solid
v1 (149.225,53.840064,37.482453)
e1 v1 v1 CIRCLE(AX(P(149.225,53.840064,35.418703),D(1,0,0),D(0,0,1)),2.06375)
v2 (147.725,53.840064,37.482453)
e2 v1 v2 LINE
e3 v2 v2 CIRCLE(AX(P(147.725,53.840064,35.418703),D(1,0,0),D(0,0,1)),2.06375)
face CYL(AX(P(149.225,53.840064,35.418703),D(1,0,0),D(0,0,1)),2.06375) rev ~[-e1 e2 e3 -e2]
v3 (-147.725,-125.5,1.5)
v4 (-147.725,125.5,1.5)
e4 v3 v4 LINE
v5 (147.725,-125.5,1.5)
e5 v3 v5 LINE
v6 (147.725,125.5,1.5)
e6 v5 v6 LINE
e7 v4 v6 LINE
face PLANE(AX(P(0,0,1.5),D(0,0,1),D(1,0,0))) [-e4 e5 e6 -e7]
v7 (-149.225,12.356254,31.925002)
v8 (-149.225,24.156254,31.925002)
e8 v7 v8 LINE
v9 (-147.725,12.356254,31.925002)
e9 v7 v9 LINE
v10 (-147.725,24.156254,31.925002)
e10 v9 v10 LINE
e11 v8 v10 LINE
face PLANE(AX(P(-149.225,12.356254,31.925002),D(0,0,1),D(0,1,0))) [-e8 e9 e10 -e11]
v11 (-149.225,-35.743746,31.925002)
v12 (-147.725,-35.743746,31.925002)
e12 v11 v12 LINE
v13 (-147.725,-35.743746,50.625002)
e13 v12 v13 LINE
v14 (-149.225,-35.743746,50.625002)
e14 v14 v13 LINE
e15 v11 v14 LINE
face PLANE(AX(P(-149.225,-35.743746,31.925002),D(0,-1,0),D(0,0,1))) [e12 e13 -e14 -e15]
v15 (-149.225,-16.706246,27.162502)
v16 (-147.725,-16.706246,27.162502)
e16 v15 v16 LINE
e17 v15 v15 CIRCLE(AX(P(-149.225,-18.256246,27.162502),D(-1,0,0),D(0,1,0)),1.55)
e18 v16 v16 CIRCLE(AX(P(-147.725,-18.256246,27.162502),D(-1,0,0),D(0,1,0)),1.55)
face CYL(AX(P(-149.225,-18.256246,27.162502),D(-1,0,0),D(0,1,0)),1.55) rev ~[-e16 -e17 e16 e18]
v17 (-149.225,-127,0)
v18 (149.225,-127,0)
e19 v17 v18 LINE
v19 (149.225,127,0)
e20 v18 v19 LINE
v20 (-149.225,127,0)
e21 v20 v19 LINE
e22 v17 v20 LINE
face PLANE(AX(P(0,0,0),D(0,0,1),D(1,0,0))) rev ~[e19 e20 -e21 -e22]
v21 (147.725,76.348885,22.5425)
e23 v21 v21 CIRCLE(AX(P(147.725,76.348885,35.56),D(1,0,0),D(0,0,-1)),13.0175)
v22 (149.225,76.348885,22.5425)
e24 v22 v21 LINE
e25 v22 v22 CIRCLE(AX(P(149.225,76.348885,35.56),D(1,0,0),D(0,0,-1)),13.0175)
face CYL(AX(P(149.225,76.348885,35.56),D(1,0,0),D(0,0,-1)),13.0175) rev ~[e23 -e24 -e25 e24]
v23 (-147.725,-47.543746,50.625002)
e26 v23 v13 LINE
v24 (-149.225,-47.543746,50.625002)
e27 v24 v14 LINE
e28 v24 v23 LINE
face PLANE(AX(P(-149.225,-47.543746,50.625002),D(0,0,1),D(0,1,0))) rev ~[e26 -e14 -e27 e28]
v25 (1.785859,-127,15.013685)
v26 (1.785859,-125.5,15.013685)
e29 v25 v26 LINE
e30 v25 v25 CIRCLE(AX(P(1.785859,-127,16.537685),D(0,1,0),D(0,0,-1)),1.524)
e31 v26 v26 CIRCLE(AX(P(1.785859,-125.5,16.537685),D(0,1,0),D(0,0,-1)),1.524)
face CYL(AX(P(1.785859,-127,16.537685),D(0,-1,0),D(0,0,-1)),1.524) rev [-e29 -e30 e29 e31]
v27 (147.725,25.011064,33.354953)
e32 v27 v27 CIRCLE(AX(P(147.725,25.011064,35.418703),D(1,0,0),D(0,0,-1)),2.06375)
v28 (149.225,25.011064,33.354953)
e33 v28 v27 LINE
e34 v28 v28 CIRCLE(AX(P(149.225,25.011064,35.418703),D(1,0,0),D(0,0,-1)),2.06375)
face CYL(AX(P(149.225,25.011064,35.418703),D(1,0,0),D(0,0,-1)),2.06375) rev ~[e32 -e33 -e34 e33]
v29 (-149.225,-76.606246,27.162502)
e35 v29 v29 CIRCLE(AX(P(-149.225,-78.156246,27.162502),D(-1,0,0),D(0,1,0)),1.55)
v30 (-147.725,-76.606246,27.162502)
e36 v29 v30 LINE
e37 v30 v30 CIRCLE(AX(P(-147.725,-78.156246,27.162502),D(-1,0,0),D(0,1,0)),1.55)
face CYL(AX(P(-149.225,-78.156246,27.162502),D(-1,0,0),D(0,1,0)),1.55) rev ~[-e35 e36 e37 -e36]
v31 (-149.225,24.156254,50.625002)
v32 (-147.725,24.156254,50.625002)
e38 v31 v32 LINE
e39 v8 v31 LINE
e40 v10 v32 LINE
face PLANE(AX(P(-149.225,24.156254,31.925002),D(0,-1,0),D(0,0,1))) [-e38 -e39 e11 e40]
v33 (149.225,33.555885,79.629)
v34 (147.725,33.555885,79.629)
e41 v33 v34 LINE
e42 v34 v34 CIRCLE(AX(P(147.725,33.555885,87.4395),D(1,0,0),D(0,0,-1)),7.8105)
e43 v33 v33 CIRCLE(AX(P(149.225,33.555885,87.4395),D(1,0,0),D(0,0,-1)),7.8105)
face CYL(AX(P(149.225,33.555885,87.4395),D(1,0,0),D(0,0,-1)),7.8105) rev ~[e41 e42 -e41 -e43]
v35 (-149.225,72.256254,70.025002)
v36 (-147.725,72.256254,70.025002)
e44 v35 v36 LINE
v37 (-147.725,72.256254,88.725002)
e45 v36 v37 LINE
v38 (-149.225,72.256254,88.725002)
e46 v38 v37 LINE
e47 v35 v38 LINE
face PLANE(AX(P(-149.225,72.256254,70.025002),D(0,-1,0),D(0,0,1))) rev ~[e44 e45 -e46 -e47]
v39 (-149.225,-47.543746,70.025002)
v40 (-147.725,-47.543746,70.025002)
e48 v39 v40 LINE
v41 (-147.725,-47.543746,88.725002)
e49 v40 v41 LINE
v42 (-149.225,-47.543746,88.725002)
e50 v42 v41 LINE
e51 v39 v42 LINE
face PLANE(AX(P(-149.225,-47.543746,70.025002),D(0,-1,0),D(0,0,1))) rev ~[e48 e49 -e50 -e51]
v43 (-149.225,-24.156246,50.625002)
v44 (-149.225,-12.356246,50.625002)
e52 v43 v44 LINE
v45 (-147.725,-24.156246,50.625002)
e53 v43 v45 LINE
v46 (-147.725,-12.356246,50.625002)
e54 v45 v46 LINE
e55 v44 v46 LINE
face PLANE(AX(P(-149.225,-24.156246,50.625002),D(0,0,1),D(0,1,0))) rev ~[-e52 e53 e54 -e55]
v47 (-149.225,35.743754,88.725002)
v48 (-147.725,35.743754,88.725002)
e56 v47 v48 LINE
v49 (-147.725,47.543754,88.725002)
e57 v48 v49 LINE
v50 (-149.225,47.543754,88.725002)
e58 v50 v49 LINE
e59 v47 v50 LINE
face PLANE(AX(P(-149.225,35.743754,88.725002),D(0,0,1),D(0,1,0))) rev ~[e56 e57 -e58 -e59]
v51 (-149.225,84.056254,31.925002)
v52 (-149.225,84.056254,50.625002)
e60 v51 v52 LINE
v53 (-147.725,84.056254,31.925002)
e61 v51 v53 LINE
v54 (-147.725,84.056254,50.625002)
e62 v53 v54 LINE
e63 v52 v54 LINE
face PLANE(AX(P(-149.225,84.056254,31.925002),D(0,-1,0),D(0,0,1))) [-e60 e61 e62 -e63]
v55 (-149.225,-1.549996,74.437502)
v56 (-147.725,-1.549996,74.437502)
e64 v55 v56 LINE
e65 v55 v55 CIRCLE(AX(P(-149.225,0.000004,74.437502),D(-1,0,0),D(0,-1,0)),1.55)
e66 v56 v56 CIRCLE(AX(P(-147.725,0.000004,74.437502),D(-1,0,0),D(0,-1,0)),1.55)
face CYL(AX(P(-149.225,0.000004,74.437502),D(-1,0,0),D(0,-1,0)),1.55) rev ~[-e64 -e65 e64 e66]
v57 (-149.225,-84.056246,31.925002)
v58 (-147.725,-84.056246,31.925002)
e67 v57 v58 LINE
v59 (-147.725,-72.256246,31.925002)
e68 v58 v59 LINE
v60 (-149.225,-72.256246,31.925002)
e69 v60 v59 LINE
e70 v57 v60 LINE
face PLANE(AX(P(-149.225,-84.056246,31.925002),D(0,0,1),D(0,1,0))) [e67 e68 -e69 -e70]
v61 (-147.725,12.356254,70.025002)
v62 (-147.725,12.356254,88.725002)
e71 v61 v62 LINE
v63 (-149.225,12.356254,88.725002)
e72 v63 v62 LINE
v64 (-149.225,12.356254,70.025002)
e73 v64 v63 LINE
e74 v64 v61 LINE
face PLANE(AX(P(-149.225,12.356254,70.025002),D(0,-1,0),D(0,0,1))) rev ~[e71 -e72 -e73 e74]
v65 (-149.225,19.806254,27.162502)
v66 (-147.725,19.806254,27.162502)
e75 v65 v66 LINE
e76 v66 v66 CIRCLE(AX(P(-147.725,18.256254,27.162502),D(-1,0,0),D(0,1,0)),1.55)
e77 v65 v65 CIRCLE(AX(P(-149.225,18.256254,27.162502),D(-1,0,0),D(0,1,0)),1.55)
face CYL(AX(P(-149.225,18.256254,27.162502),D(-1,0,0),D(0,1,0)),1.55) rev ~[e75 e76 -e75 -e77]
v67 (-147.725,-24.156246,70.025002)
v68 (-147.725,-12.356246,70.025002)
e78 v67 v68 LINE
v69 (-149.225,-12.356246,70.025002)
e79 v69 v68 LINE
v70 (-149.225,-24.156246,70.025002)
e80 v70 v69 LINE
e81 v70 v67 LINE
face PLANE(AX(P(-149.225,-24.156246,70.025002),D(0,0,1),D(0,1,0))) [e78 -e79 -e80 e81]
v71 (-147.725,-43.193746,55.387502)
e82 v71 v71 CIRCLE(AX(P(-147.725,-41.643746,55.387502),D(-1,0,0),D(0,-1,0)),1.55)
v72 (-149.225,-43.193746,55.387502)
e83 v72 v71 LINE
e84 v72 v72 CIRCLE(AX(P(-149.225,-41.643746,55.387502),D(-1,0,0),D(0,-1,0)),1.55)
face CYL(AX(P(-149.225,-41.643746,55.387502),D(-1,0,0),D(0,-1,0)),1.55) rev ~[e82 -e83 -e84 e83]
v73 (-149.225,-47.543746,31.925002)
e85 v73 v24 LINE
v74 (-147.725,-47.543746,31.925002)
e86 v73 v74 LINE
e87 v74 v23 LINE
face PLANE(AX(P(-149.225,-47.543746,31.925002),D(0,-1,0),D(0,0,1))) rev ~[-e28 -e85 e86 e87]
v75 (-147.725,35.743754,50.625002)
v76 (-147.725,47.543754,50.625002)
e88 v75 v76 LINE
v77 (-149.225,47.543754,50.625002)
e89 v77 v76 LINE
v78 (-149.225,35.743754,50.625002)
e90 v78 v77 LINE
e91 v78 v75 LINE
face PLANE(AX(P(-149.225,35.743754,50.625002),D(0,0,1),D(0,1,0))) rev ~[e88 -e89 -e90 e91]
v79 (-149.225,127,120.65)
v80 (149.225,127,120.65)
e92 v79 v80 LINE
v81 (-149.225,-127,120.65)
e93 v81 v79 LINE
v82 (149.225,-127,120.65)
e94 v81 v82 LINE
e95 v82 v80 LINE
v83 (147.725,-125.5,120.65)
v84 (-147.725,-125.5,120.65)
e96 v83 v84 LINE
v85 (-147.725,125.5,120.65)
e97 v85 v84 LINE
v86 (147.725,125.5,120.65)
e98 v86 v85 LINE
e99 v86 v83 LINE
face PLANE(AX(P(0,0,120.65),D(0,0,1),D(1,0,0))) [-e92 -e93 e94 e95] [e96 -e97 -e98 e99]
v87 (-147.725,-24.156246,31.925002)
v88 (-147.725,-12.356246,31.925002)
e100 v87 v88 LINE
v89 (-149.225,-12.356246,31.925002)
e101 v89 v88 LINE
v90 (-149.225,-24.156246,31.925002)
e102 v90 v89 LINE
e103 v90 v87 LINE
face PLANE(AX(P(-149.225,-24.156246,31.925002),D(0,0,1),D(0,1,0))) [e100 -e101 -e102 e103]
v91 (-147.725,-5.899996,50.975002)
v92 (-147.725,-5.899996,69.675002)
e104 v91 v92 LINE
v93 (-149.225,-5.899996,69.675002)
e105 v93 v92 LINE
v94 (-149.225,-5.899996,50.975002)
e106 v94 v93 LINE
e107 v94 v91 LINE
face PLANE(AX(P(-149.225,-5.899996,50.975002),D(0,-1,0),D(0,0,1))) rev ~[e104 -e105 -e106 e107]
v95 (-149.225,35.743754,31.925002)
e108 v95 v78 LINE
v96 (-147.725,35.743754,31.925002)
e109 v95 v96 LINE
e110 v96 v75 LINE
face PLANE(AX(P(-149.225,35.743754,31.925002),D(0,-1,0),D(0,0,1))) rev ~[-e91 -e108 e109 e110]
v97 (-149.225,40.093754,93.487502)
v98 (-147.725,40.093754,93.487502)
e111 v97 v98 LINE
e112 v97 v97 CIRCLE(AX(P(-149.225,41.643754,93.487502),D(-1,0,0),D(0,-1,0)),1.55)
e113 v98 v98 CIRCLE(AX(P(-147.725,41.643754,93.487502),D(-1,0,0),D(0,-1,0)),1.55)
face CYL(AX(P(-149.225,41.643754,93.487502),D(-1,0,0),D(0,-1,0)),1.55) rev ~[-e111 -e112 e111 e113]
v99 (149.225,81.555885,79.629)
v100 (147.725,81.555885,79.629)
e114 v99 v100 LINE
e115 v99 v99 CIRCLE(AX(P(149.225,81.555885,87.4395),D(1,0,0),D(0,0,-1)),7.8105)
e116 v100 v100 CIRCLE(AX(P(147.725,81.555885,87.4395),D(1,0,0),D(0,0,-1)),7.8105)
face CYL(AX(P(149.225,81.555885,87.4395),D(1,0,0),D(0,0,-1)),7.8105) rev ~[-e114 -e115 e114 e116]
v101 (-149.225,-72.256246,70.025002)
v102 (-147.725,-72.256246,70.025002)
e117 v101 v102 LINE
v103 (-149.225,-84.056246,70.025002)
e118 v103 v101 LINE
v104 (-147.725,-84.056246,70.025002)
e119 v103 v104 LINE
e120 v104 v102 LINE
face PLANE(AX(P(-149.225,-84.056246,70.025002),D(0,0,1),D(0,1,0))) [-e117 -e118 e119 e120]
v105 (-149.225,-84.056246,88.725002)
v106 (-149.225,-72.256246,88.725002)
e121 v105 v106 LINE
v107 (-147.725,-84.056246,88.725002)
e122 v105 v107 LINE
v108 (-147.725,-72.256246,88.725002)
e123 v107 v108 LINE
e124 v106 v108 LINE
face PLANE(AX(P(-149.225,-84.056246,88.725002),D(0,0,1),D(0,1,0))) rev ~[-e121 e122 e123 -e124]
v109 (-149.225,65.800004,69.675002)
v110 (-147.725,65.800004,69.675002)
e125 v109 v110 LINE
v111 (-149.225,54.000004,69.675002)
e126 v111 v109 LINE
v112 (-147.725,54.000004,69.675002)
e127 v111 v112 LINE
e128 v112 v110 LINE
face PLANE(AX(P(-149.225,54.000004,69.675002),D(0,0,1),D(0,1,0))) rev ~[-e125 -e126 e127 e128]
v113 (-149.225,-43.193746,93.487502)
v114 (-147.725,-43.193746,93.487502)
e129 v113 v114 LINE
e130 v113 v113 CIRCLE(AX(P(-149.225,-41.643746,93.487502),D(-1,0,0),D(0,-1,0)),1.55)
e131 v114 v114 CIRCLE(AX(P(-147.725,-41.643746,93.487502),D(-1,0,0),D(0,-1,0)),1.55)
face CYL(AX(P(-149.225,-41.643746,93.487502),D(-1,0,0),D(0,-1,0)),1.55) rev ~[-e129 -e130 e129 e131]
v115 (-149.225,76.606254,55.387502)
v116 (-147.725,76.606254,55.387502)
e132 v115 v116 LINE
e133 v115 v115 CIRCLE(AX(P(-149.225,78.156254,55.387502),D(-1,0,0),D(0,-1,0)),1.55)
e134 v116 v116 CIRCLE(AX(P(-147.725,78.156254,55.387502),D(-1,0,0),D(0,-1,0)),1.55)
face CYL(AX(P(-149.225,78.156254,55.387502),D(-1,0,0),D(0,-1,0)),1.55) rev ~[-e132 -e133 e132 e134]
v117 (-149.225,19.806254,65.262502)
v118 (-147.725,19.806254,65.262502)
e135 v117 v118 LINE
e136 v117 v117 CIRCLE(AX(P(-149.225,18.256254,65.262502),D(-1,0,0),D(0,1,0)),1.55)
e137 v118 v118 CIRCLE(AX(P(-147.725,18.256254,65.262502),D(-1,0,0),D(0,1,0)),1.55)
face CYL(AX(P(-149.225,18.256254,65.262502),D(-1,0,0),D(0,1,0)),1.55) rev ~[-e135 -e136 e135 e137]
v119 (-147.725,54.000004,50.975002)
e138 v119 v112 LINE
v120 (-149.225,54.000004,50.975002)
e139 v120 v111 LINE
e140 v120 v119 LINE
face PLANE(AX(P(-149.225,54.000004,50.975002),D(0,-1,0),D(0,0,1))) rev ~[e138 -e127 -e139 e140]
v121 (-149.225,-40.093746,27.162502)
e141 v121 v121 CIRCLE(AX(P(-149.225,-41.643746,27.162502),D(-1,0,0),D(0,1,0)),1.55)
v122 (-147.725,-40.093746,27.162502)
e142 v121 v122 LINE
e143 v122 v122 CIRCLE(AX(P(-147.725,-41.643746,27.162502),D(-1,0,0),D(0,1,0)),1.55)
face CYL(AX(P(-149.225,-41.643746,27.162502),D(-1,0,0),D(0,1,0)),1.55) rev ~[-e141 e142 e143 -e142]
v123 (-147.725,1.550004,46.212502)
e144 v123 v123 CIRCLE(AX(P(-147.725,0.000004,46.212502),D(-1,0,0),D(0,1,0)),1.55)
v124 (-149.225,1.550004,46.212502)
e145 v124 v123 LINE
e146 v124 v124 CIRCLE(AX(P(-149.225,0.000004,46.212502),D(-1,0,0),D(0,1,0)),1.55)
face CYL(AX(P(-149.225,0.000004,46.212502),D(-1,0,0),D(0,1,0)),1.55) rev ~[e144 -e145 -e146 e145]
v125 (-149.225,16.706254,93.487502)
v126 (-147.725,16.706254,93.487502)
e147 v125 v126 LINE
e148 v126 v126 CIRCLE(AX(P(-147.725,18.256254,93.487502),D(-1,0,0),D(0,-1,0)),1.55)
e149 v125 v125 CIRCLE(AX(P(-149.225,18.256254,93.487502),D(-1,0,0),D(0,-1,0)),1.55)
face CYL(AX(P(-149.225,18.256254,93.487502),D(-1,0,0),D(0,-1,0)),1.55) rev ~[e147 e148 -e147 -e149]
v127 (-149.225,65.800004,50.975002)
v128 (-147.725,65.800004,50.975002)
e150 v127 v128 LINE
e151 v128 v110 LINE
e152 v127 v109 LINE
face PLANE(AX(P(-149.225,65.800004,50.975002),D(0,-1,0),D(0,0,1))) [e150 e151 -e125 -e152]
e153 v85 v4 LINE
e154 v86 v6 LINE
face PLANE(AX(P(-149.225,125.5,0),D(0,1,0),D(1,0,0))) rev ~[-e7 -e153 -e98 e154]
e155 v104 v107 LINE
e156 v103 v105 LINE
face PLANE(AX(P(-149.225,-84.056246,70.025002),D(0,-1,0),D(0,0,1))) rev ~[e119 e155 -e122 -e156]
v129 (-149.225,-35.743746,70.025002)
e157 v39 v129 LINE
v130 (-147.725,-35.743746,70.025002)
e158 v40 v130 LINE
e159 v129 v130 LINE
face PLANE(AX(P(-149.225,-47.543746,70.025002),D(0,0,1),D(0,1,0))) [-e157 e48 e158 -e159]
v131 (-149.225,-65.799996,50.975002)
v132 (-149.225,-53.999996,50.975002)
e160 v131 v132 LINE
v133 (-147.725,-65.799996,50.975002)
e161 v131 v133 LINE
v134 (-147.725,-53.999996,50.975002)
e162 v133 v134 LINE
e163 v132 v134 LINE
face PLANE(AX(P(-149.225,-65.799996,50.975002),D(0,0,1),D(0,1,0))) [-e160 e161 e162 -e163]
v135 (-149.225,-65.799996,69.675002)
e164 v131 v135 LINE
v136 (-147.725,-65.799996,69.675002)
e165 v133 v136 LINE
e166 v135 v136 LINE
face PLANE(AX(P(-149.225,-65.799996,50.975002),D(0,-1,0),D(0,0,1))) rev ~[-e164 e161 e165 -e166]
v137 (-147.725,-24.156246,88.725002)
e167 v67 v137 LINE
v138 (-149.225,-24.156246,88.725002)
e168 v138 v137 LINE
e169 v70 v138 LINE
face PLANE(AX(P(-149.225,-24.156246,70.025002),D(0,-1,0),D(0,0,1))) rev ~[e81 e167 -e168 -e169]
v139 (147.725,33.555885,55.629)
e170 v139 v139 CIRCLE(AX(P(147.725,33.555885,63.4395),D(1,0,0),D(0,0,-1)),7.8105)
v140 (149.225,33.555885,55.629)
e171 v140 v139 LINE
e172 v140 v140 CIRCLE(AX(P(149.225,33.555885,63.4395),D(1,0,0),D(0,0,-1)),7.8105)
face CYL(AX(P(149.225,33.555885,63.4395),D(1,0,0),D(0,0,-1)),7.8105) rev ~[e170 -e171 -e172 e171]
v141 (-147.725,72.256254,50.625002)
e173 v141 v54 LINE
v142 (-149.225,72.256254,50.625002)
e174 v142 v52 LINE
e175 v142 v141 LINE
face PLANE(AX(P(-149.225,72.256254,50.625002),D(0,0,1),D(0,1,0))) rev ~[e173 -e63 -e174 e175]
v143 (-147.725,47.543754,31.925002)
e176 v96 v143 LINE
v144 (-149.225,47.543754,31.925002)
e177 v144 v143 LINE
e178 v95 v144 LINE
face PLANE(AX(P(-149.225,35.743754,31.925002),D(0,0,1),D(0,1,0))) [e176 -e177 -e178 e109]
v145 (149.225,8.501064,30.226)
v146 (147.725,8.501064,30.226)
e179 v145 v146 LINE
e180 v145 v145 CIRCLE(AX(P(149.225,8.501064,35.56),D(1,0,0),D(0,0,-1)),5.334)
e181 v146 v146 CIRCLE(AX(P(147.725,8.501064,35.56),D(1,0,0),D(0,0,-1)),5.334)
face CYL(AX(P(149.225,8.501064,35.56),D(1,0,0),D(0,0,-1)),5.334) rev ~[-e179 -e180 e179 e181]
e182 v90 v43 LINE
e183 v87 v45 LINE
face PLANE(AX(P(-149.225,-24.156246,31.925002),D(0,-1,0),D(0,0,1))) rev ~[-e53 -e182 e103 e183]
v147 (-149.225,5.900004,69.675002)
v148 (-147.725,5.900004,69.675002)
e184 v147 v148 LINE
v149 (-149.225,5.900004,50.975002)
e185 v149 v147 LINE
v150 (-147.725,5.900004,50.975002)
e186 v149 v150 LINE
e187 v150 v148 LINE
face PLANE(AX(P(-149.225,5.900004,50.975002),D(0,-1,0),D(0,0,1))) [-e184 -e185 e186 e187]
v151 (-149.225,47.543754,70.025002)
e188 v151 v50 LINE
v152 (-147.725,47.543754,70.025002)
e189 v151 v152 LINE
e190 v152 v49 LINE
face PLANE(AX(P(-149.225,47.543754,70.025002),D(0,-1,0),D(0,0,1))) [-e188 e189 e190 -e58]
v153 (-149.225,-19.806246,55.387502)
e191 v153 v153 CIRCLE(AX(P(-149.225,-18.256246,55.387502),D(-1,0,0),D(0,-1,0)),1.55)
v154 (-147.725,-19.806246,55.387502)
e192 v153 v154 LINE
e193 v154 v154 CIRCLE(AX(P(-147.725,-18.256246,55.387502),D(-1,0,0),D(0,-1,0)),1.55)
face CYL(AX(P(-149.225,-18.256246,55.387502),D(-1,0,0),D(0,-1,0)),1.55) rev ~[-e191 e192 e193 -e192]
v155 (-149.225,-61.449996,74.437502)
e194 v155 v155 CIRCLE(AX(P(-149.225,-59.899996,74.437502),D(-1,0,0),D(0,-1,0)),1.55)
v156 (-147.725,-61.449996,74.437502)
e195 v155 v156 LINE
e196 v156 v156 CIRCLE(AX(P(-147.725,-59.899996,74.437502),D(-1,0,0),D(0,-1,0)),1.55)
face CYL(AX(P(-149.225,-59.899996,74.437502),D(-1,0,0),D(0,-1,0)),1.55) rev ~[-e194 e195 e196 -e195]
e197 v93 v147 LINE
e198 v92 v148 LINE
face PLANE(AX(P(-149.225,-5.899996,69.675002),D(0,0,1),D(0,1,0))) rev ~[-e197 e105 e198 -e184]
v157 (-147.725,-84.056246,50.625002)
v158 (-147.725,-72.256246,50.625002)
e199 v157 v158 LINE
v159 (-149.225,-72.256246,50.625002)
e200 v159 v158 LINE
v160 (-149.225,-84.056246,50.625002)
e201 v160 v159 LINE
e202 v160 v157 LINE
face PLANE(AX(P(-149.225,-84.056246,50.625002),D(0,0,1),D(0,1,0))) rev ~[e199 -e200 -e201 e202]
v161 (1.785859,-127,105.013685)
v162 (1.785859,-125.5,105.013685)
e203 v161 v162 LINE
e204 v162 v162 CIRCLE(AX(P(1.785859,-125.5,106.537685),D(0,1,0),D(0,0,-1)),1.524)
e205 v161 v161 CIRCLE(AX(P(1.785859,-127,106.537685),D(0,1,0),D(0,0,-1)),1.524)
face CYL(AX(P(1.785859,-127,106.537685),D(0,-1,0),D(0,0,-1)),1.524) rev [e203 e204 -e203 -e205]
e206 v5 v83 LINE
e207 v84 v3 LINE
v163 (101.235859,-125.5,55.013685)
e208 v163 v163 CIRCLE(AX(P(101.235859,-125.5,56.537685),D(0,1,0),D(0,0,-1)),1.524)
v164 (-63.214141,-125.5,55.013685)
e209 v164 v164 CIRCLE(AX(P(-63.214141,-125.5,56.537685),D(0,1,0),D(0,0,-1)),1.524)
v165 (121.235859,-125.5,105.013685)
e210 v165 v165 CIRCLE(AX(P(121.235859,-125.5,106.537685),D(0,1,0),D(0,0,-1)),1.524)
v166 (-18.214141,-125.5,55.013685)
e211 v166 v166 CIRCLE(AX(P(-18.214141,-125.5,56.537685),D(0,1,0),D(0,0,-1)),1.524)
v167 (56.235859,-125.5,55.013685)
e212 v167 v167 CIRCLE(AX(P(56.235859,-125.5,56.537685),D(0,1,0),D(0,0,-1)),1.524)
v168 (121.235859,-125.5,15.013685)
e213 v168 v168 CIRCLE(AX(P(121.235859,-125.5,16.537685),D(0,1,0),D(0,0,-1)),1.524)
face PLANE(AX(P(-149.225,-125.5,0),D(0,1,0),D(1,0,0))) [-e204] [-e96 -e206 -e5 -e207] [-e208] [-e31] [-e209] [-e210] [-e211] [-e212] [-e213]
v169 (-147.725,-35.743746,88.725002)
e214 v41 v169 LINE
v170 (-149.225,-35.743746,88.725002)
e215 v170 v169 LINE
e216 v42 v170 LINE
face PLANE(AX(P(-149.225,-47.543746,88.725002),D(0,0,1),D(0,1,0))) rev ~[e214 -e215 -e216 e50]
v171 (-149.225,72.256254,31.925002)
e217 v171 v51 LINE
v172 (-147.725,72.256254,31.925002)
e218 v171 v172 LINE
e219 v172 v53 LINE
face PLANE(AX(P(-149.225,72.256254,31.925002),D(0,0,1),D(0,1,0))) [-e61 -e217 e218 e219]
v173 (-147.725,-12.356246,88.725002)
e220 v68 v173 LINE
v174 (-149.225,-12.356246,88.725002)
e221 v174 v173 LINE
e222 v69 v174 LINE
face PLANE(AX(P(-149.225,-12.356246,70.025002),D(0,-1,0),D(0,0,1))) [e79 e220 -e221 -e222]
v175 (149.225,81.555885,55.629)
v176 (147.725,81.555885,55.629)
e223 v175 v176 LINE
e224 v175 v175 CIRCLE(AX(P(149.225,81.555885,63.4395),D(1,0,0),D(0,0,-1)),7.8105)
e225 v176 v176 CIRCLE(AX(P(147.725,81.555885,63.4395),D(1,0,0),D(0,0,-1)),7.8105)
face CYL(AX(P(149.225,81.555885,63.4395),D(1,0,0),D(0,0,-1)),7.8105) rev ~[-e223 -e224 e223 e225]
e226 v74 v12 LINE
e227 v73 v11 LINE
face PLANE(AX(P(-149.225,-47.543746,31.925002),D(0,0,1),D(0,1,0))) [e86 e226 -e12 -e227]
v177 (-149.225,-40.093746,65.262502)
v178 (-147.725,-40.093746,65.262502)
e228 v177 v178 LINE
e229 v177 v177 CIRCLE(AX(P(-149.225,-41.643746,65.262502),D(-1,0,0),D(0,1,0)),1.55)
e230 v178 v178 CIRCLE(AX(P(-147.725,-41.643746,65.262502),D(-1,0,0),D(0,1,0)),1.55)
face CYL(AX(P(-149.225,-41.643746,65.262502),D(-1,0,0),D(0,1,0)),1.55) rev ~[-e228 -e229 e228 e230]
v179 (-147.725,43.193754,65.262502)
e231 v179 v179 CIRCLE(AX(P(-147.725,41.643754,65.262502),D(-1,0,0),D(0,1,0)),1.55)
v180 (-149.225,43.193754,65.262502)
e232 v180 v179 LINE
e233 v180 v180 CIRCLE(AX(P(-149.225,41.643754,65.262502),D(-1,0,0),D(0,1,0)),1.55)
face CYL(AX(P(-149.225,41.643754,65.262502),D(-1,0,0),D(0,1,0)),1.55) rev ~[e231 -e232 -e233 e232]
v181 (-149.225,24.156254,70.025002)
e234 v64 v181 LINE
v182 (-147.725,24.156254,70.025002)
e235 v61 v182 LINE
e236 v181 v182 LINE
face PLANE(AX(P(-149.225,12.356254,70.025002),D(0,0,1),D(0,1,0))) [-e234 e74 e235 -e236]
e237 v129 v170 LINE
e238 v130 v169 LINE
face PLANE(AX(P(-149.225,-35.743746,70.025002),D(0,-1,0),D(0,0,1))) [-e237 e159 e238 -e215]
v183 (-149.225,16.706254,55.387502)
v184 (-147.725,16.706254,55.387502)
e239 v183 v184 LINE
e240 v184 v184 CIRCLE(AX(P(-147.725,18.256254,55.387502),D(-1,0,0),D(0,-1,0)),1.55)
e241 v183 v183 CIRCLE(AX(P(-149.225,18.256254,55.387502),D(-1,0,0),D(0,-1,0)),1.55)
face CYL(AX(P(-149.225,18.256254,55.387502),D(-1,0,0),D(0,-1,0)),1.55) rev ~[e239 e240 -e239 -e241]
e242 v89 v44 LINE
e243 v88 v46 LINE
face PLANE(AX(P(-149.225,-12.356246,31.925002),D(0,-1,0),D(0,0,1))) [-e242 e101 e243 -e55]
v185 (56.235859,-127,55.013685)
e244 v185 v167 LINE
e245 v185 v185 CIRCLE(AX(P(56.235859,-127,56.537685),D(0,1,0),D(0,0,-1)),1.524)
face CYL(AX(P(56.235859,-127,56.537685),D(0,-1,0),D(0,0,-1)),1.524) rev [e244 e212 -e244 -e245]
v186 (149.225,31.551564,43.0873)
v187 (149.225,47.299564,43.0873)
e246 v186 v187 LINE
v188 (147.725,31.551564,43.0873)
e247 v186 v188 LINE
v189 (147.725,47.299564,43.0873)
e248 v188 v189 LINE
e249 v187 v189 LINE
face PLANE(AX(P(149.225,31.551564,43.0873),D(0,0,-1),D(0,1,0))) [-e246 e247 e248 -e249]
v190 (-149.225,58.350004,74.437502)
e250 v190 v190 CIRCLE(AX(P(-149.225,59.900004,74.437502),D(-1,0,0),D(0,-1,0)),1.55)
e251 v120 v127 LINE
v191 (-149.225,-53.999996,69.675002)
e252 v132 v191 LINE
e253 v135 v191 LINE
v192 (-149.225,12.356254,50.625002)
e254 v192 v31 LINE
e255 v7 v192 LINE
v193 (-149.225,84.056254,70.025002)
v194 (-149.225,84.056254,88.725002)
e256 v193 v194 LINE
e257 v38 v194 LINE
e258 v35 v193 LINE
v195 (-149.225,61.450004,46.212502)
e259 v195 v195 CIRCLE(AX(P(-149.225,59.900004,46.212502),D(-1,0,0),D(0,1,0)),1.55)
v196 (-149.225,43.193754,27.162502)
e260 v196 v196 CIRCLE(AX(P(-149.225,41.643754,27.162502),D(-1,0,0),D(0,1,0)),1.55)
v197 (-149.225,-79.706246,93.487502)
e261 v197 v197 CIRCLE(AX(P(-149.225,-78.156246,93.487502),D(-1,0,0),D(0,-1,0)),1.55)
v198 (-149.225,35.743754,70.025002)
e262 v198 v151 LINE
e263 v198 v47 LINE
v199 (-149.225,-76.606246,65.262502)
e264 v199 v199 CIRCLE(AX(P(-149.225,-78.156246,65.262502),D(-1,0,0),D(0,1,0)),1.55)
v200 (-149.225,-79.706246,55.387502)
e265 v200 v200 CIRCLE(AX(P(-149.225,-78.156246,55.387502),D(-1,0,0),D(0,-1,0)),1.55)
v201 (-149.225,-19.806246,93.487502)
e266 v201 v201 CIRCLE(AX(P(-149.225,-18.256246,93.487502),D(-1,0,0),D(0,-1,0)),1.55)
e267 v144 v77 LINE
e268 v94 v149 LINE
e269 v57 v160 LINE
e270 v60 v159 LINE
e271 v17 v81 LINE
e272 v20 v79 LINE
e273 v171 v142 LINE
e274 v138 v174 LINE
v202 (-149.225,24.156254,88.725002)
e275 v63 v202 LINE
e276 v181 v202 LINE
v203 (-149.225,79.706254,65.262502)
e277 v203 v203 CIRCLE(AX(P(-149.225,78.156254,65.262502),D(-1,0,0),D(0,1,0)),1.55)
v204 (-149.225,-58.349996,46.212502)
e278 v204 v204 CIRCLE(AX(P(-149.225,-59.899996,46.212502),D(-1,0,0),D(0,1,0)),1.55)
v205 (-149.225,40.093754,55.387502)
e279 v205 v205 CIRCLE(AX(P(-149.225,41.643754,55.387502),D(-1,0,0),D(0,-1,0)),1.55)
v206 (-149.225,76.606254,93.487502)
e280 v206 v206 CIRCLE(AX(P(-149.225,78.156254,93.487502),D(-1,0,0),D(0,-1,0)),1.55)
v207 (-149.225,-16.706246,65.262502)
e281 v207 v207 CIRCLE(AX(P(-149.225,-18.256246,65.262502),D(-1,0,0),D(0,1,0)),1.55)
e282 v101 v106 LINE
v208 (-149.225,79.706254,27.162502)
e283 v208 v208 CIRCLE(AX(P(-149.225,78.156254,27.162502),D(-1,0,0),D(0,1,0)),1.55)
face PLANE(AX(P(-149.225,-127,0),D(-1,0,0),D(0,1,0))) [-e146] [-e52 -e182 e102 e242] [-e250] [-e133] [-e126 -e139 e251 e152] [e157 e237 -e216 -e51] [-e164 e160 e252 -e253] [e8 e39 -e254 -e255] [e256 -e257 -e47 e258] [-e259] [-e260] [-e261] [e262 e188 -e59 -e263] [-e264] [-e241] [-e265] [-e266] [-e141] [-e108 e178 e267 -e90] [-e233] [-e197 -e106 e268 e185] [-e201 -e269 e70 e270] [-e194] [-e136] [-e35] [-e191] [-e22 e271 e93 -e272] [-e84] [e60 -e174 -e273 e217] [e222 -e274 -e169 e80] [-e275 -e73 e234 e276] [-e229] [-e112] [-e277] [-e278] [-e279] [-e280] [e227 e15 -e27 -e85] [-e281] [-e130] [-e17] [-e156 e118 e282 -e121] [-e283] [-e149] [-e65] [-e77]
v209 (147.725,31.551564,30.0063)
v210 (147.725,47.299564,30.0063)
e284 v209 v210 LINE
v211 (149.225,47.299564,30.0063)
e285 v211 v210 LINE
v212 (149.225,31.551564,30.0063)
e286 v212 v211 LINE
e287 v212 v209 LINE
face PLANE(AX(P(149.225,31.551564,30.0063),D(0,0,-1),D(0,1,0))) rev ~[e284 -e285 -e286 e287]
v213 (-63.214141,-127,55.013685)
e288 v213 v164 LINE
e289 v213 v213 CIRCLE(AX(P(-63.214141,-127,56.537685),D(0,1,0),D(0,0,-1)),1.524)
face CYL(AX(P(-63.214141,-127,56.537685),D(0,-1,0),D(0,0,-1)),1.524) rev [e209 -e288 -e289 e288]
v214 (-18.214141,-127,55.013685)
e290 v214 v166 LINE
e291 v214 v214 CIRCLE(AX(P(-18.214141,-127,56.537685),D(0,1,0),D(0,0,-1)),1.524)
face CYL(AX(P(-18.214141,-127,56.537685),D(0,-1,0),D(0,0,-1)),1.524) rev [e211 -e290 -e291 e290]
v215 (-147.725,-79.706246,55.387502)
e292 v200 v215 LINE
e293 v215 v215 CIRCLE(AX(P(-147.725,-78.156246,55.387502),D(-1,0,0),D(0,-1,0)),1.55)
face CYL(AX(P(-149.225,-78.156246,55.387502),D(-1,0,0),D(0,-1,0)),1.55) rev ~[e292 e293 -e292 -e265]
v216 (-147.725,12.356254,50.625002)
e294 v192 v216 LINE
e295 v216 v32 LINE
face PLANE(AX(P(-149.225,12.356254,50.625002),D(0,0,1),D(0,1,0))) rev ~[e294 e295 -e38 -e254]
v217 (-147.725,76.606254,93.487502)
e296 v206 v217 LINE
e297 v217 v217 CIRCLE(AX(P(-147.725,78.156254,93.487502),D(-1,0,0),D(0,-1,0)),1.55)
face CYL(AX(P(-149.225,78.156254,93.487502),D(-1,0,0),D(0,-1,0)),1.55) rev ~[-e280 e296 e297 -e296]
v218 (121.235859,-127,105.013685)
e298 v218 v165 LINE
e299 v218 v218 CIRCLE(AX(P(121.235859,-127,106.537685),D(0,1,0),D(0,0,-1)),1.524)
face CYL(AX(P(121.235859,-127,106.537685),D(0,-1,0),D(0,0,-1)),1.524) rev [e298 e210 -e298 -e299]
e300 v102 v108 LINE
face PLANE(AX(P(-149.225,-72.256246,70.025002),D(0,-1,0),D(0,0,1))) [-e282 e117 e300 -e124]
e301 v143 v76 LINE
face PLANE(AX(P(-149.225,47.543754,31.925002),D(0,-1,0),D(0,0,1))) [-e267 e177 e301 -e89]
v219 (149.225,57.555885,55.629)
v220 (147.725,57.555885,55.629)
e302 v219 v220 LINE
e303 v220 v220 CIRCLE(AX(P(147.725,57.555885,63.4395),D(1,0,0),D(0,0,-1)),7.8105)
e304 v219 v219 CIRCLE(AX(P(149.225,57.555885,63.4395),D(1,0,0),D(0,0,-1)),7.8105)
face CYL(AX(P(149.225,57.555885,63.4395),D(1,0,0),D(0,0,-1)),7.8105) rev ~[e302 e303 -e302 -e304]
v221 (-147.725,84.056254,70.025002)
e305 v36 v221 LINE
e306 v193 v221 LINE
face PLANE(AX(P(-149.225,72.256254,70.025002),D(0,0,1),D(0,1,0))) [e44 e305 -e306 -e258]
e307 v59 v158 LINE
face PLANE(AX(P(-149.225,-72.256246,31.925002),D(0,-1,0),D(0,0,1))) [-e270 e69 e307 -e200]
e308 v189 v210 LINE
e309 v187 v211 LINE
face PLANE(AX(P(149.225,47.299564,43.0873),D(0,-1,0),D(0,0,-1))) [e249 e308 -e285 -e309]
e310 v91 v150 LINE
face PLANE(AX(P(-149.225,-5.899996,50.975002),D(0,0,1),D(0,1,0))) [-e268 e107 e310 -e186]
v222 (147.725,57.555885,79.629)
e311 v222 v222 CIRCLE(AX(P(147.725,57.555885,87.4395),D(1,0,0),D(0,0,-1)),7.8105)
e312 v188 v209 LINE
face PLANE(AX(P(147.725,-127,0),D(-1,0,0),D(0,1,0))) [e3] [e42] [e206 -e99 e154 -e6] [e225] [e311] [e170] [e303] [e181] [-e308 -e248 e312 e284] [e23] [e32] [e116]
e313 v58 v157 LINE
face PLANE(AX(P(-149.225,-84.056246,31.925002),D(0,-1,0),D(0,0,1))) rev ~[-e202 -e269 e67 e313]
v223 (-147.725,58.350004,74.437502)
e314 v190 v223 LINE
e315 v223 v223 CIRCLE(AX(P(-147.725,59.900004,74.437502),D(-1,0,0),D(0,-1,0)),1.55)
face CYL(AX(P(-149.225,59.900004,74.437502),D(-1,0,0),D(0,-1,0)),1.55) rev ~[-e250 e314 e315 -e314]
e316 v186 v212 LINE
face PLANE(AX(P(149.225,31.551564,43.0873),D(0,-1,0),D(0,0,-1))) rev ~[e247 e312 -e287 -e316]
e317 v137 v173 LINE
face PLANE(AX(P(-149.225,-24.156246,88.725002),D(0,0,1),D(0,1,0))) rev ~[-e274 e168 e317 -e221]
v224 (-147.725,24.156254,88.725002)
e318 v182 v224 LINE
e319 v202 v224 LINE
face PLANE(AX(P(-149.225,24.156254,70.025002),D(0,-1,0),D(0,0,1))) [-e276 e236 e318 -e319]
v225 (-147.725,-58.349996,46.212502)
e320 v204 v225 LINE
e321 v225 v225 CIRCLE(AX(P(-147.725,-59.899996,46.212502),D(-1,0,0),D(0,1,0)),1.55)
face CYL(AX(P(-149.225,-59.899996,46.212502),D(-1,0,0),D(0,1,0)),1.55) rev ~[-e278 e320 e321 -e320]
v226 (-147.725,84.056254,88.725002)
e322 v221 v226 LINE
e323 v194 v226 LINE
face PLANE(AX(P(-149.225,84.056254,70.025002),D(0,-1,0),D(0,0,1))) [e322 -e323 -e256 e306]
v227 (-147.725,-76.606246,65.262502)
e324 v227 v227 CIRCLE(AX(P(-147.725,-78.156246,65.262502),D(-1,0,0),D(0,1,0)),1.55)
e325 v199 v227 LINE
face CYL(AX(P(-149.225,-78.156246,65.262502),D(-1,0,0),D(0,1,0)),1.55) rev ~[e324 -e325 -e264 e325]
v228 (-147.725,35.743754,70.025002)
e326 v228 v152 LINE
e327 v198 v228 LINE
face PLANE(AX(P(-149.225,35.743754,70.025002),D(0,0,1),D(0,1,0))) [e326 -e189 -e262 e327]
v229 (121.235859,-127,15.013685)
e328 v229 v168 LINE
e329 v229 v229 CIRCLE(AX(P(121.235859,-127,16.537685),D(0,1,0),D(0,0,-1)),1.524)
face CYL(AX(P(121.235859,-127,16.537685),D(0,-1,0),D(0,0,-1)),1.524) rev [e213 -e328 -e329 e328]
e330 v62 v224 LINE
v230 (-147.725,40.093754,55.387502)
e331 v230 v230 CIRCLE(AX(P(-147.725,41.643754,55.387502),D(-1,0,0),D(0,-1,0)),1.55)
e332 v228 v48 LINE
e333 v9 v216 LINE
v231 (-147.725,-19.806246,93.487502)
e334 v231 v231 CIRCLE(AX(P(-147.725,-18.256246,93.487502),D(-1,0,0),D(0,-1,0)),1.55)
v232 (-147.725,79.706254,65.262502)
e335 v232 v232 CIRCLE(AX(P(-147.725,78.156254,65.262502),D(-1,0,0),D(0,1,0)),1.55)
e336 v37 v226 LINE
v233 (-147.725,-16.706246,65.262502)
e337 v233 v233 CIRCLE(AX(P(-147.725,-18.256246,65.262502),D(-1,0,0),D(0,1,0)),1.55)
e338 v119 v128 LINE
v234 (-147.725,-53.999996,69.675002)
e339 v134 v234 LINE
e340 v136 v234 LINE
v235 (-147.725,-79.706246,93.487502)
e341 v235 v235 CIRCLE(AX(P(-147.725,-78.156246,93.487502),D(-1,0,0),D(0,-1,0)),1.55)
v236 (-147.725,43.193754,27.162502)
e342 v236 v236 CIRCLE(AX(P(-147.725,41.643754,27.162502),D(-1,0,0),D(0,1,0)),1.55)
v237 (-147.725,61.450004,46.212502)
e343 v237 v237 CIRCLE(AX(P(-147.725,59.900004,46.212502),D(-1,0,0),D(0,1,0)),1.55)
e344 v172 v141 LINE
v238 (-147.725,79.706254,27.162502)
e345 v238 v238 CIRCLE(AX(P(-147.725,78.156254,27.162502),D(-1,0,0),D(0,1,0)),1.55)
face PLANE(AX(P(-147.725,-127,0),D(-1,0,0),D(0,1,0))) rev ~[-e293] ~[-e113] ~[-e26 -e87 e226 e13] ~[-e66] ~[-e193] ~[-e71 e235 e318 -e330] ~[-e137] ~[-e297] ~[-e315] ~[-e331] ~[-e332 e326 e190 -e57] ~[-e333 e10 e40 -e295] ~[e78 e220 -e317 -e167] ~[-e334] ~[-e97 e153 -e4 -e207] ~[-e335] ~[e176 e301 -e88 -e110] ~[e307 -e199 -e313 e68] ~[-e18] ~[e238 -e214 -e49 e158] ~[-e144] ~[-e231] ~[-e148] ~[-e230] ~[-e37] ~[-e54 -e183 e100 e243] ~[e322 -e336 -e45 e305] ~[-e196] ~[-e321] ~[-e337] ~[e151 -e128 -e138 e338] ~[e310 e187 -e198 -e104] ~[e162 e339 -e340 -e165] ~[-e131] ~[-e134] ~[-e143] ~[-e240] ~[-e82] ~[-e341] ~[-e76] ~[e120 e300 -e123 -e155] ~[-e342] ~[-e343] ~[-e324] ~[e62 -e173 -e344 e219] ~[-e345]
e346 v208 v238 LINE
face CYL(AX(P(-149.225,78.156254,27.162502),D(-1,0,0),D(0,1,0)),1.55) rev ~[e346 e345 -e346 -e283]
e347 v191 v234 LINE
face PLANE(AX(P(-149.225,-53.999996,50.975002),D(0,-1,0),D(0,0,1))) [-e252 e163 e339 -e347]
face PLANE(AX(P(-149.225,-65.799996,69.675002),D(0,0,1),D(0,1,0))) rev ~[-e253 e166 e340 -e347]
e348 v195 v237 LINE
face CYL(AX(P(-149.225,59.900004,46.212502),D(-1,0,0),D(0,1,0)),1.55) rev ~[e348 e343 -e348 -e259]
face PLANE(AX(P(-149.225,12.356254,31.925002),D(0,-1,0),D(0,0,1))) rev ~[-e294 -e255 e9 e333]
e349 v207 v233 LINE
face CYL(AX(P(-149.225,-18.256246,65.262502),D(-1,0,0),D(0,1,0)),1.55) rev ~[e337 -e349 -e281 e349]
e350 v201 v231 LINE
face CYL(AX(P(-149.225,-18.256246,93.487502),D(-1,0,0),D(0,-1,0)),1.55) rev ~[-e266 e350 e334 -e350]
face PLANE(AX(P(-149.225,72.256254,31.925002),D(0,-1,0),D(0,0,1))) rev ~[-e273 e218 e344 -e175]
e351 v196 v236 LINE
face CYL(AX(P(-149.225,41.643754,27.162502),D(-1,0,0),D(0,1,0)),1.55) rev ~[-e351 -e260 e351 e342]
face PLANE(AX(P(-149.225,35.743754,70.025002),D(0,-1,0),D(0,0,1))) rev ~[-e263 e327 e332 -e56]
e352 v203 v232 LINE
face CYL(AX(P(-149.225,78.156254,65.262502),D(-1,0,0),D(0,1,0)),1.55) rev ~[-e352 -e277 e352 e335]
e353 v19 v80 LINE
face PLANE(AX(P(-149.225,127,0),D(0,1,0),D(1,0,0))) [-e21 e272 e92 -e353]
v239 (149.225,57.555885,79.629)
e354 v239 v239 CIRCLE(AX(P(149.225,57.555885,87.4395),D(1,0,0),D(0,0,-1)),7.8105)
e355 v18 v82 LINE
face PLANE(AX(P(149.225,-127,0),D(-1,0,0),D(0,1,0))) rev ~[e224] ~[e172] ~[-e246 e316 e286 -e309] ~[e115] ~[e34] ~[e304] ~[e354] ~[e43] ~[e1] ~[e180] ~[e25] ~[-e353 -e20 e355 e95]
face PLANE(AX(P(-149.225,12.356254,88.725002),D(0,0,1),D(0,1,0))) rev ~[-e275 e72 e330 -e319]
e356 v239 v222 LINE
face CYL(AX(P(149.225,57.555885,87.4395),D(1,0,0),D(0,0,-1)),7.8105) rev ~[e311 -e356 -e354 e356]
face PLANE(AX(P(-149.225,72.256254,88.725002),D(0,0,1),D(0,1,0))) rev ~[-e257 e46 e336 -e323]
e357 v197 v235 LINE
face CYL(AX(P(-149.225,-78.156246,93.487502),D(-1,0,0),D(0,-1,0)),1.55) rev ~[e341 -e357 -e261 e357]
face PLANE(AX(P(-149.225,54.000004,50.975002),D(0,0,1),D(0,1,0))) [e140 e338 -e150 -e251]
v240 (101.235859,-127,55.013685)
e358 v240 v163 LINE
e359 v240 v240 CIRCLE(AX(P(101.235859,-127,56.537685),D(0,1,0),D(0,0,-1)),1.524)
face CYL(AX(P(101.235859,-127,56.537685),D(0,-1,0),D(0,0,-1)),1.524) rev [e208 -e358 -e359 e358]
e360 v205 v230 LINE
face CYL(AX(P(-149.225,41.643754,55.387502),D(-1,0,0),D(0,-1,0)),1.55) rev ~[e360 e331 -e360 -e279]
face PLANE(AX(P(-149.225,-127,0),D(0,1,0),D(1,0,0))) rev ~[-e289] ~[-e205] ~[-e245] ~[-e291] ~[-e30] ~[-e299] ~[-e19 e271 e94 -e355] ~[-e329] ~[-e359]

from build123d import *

# Parameters (mm, degrees)
SKETCH2_W                        = 298.45
SKETCH2_H                        = 254
BOSS_EXTRUDE1_DEPTH              = 120.65
SHELL1_T                         = -1.5
PT_CONNECTOR_CUTOUTS_REACH       = 348.06
SKETCH3_R                        = 7.8105
SKETCH3_R_2                      = 2.06375
SKETCH3_R_3                      = 5.334
SKETCH3_R_4                      = 13.0175
SKETCH3_W                        = 13.081
SKETCH3_H                        = 15.748
SKETCH4_R                        = 1.55
SKETCH4_W                        = 18.7
SKETCH4_H                        = 11.8
SOLENOID_CONNECTOR_CUTOUTS_DEPTH = 1.5
SKETCH5_R                        = 1.524
PCB_MOUNTING_HOLES_DEPTH         = 1.5


with BuildPart() as part:
    # Sketch2 → Boss-Extrude1 (new body)
    with BuildSketch(Plane.XY):
        Rectangle(SKETCH2_W, SKETCH2_H)
    extrude(amount=BOSS_EXTRUDE1_DEPTH)

    # Shell1
    shell1_openings = [part.faces().sort_by_distance(p)[0] for p in [
        (0, 0, 120.65),
    ]]
    offset(amount=SHELL1_T, openings=shell1_openings, kind=Kind.INTERSECTION)

    # Sketch3 → PT Connector Cutouts (cut, up to next)
    with BuildSketch(Plane(origin=(149.225, 0, 0), x_dir=(0, 0, -1), z_dir=(1, 0, 0)), mode=Mode.PRIVATE) as pt_connector_cutouts_sk1:
        with Locations((-87.4395, 33.555885142)):
            Circle(SKETCH3_R)
    pt_connector_cutouts_tool1 = extrude(pt_connector_cutouts_sk1.sketch, amount=-PT_CONNECTOR_CUTOUTS_REACH, mode=Mode.PRIVATE) & part.part
    # Sketch3 → PT Connector Cutouts (cut, up to next)
    with BuildSketch(Plane(origin=(149.225, 0, 0), x_dir=(0, 0, -1), z_dir=(1, 0, 0)), mode=Mode.PRIVATE) as pt_connector_cutouts_sk2:
        with Locations((-63.4395, 33.555885142)):
            Circle(SKETCH3_R)
    pt_connector_cutouts_tool2 = extrude(pt_connector_cutouts_sk2.sketch, amount=-PT_CONNECTOR_CUTOUTS_REACH, mode=Mode.PRIVATE) & part.part
    # Sketch3 → PT Connector Cutouts (cut, up to next)
    with BuildSketch(Plane(origin=(149.225, 0, 0), x_dir=(0, 0, -1), z_dir=(1, 0, 0)), mode=Mode.PRIVATE) as pt_connector_cutouts_sk3:
        with Locations((-63.4395, 57.555885142)):
            Circle(SKETCH3_R)
    pt_connector_cutouts_tool3 = extrude(pt_connector_cutouts_sk3.sketch, amount=-PT_CONNECTOR_CUTOUTS_REACH, mode=Mode.PRIVATE) & part.part
    # Sketch3 → PT Connector Cutouts (cut, up to next)
    with BuildSketch(Plane(origin=(149.225, 0, 0), x_dir=(0, 0, -1), z_dir=(1, 0, 0)), mode=Mode.PRIVATE) as pt_connector_cutouts_sk4:
        with Locations((-63.4395, 81.555885142)):
            Circle(SKETCH3_R)
    pt_connector_cutouts_tool4 = extrude(pt_connector_cutouts_sk4.sketch, amount=-PT_CONNECTOR_CUTOUTS_REACH, mode=Mode.PRIVATE) & part.part
    # Sketch3 → PT Connector Cutouts (cut, up to next)
    with BuildSketch(Plane(origin=(149.225, 0, 0), x_dir=(0, 0, -1), z_dir=(1, 0, 0)), mode=Mode.PRIVATE) as pt_connector_cutouts_sk5:
        with Locations((-87.4395, 57.555885142)):
            Circle(SKETCH3_R)
    pt_connector_cutouts_tool5 = extrude(pt_connector_cutouts_sk5.sketch, amount=-PT_CONNECTOR_CUTOUTS_REACH, mode=Mode.PRIVATE) & part.part
    # Sketch3 → PT Connector Cutouts (cut, up to next)
    with BuildSketch(Plane(origin=(149.225, 0, 0), x_dir=(0, 0, -1), z_dir=(1, 0, 0)), mode=Mode.PRIVATE) as pt_connector_cutouts_sk6:
        with Locations((-87.4395, 81.555885142)):
            Circle(SKETCH3_R)
    pt_connector_cutouts_tool6 = extrude(pt_connector_cutouts_sk6.sketch, amount=-PT_CONNECTOR_CUTOUTS_REACH, mode=Mode.PRIVATE) & part.part
    # Sketch3 → PT Connector Cutouts (cut, up to next)
    with BuildSketch(Plane(origin=(149.225, 0, 0), x_dir=(0, 0, -1), z_dir=(1, 0, 0)), mode=Mode.PRIVATE) as pt_connector_cutouts_sk7:
        with Locations((-35.418702679, 25.011064362)):
            Circle(SKETCH3_R_2)
    pt_connector_cutouts_tool7 = extrude(pt_connector_cutouts_sk7.sketch, amount=-PT_CONNECTOR_CUTOUTS_REACH, mode=Mode.PRIVATE) & part.part
    # Sketch3 → PT Connector Cutouts (cut, up to next)
    with BuildSketch(Plane(origin=(149.225, 0, 0), x_dir=(0, 0, -1), z_dir=(1, 0, 0)), mode=Mode.PRIVATE) as pt_connector_cutouts_sk8:
        with Locations(Location((-35.418702679, 53.840064362, 0), (0, 0, 180))):
            Circle(SKETCH3_R_2)
    pt_connector_cutouts_tool8 = extrude(pt_connector_cutouts_sk8.sketch, amount=-PT_CONNECTOR_CUTOUTS_REACH, mode=Mode.PRIVATE) & part.part
    # Sketch3 → PT Connector Cutouts (cut, up to next)
    with BuildSketch(Plane(origin=(149.225, 0, 0), x_dir=(0, 0, -1), z_dir=(1, 0, 0)), mode=Mode.PRIVATE) as pt_connector_cutouts_sk9:
        with Locations((-35.56, 8.501064362)):
            Circle(SKETCH3_R_3)
    pt_connector_cutouts_tool9 = extrude(pt_connector_cutouts_sk9.sketch, amount=-PT_CONNECTOR_CUTOUTS_REACH, mode=Mode.PRIVATE) & part.part
    # Sketch3 → PT Connector Cutouts (cut, up to next)
    with BuildSketch(Plane(origin=(149.225, 0, 0), x_dir=(0, 0, -1), z_dir=(1, 0, 0)), mode=Mode.PRIVATE) as pt_connector_cutouts_sk10:
        with Locations((-35.56, 76.348885142)):
            Circle(SKETCH3_R_4)
    pt_connector_cutouts_tool10 = extrude(pt_connector_cutouts_sk10.sketch, amount=-PT_CONNECTOR_CUTOUTS_REACH, mode=Mode.PRIVATE) & part.part
    # Sketch3 → PT Connector Cutouts (cut, up to next)
    with BuildSketch(Plane(origin=(149.225, 0, 0), x_dir=(0, 0, -1), z_dir=(1, 0, 0)), mode=Mode.PRIVATE) as pt_connector_cutouts_sk11:
        with Locations((-36.546800253, 39.425564362)):
            Rectangle(SKETCH3_W, SKETCH3_H)
    pt_connector_cutouts_tool11 = extrude(pt_connector_cutouts_sk11.sketch, amount=-PT_CONNECTOR_CUTOUTS_REACH, mode=Mode.PRIVATE) & part.part
    add(pt_connector_cutouts_tool1.solids().sort_by_distance((149.225, 33.555885, 87.4395))[0], mode=Mode.SUBTRACT)
    add(pt_connector_cutouts_tool2.solids().sort_by_distance((149.225, 33.555885, 63.4395))[0], mode=Mode.SUBTRACT)
    add(pt_connector_cutouts_tool3.solids().sort_by_distance((149.225, 57.555885, 63.4395))[0], mode=Mode.SUBTRACT)
    add(pt_connector_cutouts_tool4.solids().sort_by_distance((149.225, 81.555885, 63.4395))[0], mode=Mode.SUBTRACT)
    add(pt_connector_cutouts_tool5.solids().sort_by_distance((149.225, 57.555885, 87.4395))[0], mode=Mode.SUBTRACT)
    add(pt_connector_cutouts_tool6.solids().sort_by_distance((149.225, 81.555885, 87.4395))[0], mode=Mode.SUBTRACT)
    add(pt_connector_cutouts_tool7.solids().sort_by_distance((149.225, 25.011064, 35.418703))[0], mode=Mode.SUBTRACT)
    add(pt_connector_cutouts_tool8.solids().sort_by_distance((149.225, 53.840064, 35.418703))[0], mode=Mode.SUBTRACT)
    add(pt_connector_cutouts_tool9.solids().sort_by_distance((149.225, 8.501064, 35.56))[0], mode=Mode.SUBTRACT)
    add(pt_connector_cutouts_tool10.solids().sort_by_distance((149.225, 76.348885, 35.56))[0], mode=Mode.SUBTRACT)
    add(pt_connector_cutouts_tool11.solids().sort_by_distance((149.225, 39.425564, 36.5468))[0], mode=Mode.SUBTRACT)

    # Sketch4 → Solenoid Connector Cutouts (cut)
    with BuildSketch(Plane.ZY.offset(149.225)):
        with Locations(Location((55.387501773, 78.156254231, 0), (0, 0, 270))):
            Circle(SKETCH4_R)
        with Locations(Location((27.162501773, 78.156254231, 0), (0, 0, 90))):
            Circle(SKETCH4_R)
        with Locations(Location((93.487501773, 78.156254231, 0), (0, 0, 270))):
            Circle(SKETCH4_R)
        with Locations(Location((65.262501773, 78.156254231, 0), (0, 0, 90))):
            Circle(SKETCH4_R)
        with Locations(Location((93.487501773, 41.643754231, 0), (0, 0, 270))):
            Circle(SKETCH4_R)
        with Locations(Location((65.262501773, 41.643754231, 0), (0, 0, 90))):
            Circle(SKETCH4_R)
        with Locations(Location((93.487501773, 18.256254231, 0), (0, 0, 270))):
            Circle(SKETCH4_R)
        with Locations(Location((65.262501773, 18.256254231, 0), (0, 0, 90))):
            Circle(SKETCH4_R)
        with Locations(Location((93.487501773, -18.256245769, 0), (0, 0, 270))):
            Circle(SKETCH4_R)
        with Locations(Location((65.262501773, -18.256245769, 0), (0, 0, 90))):
            Circle(SKETCH4_R)
        with Locations(Location((93.487501773, -41.643745769, 0), (0, 0, 270))):
            Circle(SKETCH4_R)
        with Locations(Location((65.262501773, -41.643745769, 0), (0, 0, 90))):
            Circle(SKETCH4_R)
        with Locations(Location((93.487501773, -78.156245769, 0), (0, 0, 270))):
            Circle(SKETCH4_R)
        with Locations(Location((65.262501773, -78.156245769, 0), (0, 0, 90))):
            Circle(SKETCH4_R)
        with Locations(Location((74.437501773, 59.900004231, 0), (0, 0, 270))):
            Circle(SKETCH4_R)
        with Locations(Location((46.212501773, 59.900004231, 0), (0, 0, 90))):
            Circle(SKETCH4_R)
        with Locations(Location((55.387501773, 41.643754231, 0), (0, 0, 270))):
            Circle(SKETCH4_R)
        with Locations(Location((27.162501773, 41.643754231, 0), (0, 0, 90))):
            Circle(SKETCH4_R)
        with Locations(Location((55.387501773, 18.256254231, 0), (0, 0, 270))):
            Circle(SKETCH4_R)
        with Locations(Location((27.162501773, 18.256254231, 0), (0, 0, 90))):
            Circle(SKETCH4_R)
        with Locations(Location((74.437501773, 4.231e-06, 0), (0, 0, 270))):
            Circle(SKETCH4_R)
        with Locations(Location((46.212501773, 4.231e-06, 0), (0, 0, 90))):
            Circle(SKETCH4_R)
        with Locations(Location((55.387501773, -18.256245769, 0), (0, 0, 270))):
            Circle(SKETCH4_R)
        with Locations(Location((27.162501773, -18.256245769, 0), (0, 0, 90))):
            Circle(SKETCH4_R)
        with Locations(Location((55.387501773, -41.643745769, 0), (0, 0, 270))):
            Circle(SKETCH4_R)
        with Locations(Location((27.162501773, -41.643745769, 0), (0, 0, 90))):
            Circle(SKETCH4_R)
        with Locations(Location((74.437501773, -59.899995769, 0), (0, 0, 270))):
            Circle(SKETCH4_R)
        with Locations(Location((46.212501773, -59.899995769, 0), (0, 0, 90))):
            Circle(SKETCH4_R)
        with Locations(Location((55.387501773, -78.156245769, 0), (0, 0, 270))):
            Circle(SKETCH4_R)
        with Locations(Location((27.162501773, -78.156245769, 0), (0, 0, 90))):
            Circle(SKETCH4_R)
        with Locations((41.275001773, 78.156254231)):
            Rectangle(SKETCH4_W, SKETCH4_H)
        with Locations((79.375001773, 78.156254231)):
            Rectangle(SKETCH4_W, SKETCH4_H)
        with Locations((79.375001773, 41.643754231)):
            Rectangle(SKETCH4_W, SKETCH4_H)
        with Locations((79.375001773, 18.256254231)):
            Rectangle(SKETCH4_W, SKETCH4_H)
        with Locations((79.375001773, -18.256245769)):
            Rectangle(SKETCH4_W, SKETCH4_H)
        with Locations((79.375001773, -41.643745769)):
            Rectangle(SKETCH4_W, SKETCH4_H)
        with Locations((79.375001773, -78.156245769)):
            Rectangle(SKETCH4_W, SKETCH4_H)
        with Locations((60.325001773, 59.900004231)):
            Rectangle(SKETCH4_W, SKETCH4_H)
        with Locations((41.275001773, 41.643754231)):
            Rectangle(SKETCH4_W, SKETCH4_H)
        with Locations((41.275001773, 18.256254231)):
            Rectangle(SKETCH4_W, SKETCH4_H)
        with Locations((60.325001773, 4.231e-06)):
            Rectangle(SKETCH4_W, SKETCH4_H)
        with Locations((41.275001773, -18.256245769)):
            Rectangle(SKETCH4_W, SKETCH4_H)
        with Locations((41.275001773, -41.643745769)):
            Rectangle(SKETCH4_W, SKETCH4_H)
        with Locations((60.325001773, -59.899995769)):
            Rectangle(SKETCH4_W, SKETCH4_H)
        with Locations((41.275001773, -78.156245769)):
            Rectangle(SKETCH4_W, SKETCH4_H)
    extrude(amount=-SOLENOID_CONNECTOR_CUTOUTS_DEPTH, mode=Mode.SUBTRACT)

    # Sketch5 → PCB Mounting Holes (cut)
    with BuildSketch(Plane(origin=(0, -127, 127), x_dir=(-1, 0, 0), z_dir=(0, 1, 0))):
        with Locations(Location((-121.235859114, -20.462314931, 0), (0, 0, 270))):
            Circle(SKETCH5_R)
        with Locations(Location((-56.235859114, -70.462314931, 0), (0, 0, 270))):
            Circle(SKETCH5_R)
        with Locations(Location((-121.235859114, -110.462314931, 0), (0, 0, 270))):
            Circle(SKETCH5_R)
        with Locations(Location((-101.235859114, -70.462314931, 0), (0, 0, 270))):
            Circle(SKETCH5_R)
        with Locations(Location((-1.785859114, -20.462314931, 0), (0, 0, 270))):
            Circle(SKETCH5_R)
        with Locations(Location((63.214140886, -70.462314931, 0), (0, 0, 270))):
            Circle(SKETCH5_R)
        with Locations(Location((-1.785859114, -110.462314931, 0), (0, 0, 270))):
            Circle(SKETCH5_R)
        with Locations(Location((18.214140886, -70.462314931, 0), (0, 0, 270))):
            Circle(SKETCH5_R)
    extrude(amount=PCB_MOUNTING_HOLES_DEPTH, mode=Mode.SUBTRACT)


solid = part.part
